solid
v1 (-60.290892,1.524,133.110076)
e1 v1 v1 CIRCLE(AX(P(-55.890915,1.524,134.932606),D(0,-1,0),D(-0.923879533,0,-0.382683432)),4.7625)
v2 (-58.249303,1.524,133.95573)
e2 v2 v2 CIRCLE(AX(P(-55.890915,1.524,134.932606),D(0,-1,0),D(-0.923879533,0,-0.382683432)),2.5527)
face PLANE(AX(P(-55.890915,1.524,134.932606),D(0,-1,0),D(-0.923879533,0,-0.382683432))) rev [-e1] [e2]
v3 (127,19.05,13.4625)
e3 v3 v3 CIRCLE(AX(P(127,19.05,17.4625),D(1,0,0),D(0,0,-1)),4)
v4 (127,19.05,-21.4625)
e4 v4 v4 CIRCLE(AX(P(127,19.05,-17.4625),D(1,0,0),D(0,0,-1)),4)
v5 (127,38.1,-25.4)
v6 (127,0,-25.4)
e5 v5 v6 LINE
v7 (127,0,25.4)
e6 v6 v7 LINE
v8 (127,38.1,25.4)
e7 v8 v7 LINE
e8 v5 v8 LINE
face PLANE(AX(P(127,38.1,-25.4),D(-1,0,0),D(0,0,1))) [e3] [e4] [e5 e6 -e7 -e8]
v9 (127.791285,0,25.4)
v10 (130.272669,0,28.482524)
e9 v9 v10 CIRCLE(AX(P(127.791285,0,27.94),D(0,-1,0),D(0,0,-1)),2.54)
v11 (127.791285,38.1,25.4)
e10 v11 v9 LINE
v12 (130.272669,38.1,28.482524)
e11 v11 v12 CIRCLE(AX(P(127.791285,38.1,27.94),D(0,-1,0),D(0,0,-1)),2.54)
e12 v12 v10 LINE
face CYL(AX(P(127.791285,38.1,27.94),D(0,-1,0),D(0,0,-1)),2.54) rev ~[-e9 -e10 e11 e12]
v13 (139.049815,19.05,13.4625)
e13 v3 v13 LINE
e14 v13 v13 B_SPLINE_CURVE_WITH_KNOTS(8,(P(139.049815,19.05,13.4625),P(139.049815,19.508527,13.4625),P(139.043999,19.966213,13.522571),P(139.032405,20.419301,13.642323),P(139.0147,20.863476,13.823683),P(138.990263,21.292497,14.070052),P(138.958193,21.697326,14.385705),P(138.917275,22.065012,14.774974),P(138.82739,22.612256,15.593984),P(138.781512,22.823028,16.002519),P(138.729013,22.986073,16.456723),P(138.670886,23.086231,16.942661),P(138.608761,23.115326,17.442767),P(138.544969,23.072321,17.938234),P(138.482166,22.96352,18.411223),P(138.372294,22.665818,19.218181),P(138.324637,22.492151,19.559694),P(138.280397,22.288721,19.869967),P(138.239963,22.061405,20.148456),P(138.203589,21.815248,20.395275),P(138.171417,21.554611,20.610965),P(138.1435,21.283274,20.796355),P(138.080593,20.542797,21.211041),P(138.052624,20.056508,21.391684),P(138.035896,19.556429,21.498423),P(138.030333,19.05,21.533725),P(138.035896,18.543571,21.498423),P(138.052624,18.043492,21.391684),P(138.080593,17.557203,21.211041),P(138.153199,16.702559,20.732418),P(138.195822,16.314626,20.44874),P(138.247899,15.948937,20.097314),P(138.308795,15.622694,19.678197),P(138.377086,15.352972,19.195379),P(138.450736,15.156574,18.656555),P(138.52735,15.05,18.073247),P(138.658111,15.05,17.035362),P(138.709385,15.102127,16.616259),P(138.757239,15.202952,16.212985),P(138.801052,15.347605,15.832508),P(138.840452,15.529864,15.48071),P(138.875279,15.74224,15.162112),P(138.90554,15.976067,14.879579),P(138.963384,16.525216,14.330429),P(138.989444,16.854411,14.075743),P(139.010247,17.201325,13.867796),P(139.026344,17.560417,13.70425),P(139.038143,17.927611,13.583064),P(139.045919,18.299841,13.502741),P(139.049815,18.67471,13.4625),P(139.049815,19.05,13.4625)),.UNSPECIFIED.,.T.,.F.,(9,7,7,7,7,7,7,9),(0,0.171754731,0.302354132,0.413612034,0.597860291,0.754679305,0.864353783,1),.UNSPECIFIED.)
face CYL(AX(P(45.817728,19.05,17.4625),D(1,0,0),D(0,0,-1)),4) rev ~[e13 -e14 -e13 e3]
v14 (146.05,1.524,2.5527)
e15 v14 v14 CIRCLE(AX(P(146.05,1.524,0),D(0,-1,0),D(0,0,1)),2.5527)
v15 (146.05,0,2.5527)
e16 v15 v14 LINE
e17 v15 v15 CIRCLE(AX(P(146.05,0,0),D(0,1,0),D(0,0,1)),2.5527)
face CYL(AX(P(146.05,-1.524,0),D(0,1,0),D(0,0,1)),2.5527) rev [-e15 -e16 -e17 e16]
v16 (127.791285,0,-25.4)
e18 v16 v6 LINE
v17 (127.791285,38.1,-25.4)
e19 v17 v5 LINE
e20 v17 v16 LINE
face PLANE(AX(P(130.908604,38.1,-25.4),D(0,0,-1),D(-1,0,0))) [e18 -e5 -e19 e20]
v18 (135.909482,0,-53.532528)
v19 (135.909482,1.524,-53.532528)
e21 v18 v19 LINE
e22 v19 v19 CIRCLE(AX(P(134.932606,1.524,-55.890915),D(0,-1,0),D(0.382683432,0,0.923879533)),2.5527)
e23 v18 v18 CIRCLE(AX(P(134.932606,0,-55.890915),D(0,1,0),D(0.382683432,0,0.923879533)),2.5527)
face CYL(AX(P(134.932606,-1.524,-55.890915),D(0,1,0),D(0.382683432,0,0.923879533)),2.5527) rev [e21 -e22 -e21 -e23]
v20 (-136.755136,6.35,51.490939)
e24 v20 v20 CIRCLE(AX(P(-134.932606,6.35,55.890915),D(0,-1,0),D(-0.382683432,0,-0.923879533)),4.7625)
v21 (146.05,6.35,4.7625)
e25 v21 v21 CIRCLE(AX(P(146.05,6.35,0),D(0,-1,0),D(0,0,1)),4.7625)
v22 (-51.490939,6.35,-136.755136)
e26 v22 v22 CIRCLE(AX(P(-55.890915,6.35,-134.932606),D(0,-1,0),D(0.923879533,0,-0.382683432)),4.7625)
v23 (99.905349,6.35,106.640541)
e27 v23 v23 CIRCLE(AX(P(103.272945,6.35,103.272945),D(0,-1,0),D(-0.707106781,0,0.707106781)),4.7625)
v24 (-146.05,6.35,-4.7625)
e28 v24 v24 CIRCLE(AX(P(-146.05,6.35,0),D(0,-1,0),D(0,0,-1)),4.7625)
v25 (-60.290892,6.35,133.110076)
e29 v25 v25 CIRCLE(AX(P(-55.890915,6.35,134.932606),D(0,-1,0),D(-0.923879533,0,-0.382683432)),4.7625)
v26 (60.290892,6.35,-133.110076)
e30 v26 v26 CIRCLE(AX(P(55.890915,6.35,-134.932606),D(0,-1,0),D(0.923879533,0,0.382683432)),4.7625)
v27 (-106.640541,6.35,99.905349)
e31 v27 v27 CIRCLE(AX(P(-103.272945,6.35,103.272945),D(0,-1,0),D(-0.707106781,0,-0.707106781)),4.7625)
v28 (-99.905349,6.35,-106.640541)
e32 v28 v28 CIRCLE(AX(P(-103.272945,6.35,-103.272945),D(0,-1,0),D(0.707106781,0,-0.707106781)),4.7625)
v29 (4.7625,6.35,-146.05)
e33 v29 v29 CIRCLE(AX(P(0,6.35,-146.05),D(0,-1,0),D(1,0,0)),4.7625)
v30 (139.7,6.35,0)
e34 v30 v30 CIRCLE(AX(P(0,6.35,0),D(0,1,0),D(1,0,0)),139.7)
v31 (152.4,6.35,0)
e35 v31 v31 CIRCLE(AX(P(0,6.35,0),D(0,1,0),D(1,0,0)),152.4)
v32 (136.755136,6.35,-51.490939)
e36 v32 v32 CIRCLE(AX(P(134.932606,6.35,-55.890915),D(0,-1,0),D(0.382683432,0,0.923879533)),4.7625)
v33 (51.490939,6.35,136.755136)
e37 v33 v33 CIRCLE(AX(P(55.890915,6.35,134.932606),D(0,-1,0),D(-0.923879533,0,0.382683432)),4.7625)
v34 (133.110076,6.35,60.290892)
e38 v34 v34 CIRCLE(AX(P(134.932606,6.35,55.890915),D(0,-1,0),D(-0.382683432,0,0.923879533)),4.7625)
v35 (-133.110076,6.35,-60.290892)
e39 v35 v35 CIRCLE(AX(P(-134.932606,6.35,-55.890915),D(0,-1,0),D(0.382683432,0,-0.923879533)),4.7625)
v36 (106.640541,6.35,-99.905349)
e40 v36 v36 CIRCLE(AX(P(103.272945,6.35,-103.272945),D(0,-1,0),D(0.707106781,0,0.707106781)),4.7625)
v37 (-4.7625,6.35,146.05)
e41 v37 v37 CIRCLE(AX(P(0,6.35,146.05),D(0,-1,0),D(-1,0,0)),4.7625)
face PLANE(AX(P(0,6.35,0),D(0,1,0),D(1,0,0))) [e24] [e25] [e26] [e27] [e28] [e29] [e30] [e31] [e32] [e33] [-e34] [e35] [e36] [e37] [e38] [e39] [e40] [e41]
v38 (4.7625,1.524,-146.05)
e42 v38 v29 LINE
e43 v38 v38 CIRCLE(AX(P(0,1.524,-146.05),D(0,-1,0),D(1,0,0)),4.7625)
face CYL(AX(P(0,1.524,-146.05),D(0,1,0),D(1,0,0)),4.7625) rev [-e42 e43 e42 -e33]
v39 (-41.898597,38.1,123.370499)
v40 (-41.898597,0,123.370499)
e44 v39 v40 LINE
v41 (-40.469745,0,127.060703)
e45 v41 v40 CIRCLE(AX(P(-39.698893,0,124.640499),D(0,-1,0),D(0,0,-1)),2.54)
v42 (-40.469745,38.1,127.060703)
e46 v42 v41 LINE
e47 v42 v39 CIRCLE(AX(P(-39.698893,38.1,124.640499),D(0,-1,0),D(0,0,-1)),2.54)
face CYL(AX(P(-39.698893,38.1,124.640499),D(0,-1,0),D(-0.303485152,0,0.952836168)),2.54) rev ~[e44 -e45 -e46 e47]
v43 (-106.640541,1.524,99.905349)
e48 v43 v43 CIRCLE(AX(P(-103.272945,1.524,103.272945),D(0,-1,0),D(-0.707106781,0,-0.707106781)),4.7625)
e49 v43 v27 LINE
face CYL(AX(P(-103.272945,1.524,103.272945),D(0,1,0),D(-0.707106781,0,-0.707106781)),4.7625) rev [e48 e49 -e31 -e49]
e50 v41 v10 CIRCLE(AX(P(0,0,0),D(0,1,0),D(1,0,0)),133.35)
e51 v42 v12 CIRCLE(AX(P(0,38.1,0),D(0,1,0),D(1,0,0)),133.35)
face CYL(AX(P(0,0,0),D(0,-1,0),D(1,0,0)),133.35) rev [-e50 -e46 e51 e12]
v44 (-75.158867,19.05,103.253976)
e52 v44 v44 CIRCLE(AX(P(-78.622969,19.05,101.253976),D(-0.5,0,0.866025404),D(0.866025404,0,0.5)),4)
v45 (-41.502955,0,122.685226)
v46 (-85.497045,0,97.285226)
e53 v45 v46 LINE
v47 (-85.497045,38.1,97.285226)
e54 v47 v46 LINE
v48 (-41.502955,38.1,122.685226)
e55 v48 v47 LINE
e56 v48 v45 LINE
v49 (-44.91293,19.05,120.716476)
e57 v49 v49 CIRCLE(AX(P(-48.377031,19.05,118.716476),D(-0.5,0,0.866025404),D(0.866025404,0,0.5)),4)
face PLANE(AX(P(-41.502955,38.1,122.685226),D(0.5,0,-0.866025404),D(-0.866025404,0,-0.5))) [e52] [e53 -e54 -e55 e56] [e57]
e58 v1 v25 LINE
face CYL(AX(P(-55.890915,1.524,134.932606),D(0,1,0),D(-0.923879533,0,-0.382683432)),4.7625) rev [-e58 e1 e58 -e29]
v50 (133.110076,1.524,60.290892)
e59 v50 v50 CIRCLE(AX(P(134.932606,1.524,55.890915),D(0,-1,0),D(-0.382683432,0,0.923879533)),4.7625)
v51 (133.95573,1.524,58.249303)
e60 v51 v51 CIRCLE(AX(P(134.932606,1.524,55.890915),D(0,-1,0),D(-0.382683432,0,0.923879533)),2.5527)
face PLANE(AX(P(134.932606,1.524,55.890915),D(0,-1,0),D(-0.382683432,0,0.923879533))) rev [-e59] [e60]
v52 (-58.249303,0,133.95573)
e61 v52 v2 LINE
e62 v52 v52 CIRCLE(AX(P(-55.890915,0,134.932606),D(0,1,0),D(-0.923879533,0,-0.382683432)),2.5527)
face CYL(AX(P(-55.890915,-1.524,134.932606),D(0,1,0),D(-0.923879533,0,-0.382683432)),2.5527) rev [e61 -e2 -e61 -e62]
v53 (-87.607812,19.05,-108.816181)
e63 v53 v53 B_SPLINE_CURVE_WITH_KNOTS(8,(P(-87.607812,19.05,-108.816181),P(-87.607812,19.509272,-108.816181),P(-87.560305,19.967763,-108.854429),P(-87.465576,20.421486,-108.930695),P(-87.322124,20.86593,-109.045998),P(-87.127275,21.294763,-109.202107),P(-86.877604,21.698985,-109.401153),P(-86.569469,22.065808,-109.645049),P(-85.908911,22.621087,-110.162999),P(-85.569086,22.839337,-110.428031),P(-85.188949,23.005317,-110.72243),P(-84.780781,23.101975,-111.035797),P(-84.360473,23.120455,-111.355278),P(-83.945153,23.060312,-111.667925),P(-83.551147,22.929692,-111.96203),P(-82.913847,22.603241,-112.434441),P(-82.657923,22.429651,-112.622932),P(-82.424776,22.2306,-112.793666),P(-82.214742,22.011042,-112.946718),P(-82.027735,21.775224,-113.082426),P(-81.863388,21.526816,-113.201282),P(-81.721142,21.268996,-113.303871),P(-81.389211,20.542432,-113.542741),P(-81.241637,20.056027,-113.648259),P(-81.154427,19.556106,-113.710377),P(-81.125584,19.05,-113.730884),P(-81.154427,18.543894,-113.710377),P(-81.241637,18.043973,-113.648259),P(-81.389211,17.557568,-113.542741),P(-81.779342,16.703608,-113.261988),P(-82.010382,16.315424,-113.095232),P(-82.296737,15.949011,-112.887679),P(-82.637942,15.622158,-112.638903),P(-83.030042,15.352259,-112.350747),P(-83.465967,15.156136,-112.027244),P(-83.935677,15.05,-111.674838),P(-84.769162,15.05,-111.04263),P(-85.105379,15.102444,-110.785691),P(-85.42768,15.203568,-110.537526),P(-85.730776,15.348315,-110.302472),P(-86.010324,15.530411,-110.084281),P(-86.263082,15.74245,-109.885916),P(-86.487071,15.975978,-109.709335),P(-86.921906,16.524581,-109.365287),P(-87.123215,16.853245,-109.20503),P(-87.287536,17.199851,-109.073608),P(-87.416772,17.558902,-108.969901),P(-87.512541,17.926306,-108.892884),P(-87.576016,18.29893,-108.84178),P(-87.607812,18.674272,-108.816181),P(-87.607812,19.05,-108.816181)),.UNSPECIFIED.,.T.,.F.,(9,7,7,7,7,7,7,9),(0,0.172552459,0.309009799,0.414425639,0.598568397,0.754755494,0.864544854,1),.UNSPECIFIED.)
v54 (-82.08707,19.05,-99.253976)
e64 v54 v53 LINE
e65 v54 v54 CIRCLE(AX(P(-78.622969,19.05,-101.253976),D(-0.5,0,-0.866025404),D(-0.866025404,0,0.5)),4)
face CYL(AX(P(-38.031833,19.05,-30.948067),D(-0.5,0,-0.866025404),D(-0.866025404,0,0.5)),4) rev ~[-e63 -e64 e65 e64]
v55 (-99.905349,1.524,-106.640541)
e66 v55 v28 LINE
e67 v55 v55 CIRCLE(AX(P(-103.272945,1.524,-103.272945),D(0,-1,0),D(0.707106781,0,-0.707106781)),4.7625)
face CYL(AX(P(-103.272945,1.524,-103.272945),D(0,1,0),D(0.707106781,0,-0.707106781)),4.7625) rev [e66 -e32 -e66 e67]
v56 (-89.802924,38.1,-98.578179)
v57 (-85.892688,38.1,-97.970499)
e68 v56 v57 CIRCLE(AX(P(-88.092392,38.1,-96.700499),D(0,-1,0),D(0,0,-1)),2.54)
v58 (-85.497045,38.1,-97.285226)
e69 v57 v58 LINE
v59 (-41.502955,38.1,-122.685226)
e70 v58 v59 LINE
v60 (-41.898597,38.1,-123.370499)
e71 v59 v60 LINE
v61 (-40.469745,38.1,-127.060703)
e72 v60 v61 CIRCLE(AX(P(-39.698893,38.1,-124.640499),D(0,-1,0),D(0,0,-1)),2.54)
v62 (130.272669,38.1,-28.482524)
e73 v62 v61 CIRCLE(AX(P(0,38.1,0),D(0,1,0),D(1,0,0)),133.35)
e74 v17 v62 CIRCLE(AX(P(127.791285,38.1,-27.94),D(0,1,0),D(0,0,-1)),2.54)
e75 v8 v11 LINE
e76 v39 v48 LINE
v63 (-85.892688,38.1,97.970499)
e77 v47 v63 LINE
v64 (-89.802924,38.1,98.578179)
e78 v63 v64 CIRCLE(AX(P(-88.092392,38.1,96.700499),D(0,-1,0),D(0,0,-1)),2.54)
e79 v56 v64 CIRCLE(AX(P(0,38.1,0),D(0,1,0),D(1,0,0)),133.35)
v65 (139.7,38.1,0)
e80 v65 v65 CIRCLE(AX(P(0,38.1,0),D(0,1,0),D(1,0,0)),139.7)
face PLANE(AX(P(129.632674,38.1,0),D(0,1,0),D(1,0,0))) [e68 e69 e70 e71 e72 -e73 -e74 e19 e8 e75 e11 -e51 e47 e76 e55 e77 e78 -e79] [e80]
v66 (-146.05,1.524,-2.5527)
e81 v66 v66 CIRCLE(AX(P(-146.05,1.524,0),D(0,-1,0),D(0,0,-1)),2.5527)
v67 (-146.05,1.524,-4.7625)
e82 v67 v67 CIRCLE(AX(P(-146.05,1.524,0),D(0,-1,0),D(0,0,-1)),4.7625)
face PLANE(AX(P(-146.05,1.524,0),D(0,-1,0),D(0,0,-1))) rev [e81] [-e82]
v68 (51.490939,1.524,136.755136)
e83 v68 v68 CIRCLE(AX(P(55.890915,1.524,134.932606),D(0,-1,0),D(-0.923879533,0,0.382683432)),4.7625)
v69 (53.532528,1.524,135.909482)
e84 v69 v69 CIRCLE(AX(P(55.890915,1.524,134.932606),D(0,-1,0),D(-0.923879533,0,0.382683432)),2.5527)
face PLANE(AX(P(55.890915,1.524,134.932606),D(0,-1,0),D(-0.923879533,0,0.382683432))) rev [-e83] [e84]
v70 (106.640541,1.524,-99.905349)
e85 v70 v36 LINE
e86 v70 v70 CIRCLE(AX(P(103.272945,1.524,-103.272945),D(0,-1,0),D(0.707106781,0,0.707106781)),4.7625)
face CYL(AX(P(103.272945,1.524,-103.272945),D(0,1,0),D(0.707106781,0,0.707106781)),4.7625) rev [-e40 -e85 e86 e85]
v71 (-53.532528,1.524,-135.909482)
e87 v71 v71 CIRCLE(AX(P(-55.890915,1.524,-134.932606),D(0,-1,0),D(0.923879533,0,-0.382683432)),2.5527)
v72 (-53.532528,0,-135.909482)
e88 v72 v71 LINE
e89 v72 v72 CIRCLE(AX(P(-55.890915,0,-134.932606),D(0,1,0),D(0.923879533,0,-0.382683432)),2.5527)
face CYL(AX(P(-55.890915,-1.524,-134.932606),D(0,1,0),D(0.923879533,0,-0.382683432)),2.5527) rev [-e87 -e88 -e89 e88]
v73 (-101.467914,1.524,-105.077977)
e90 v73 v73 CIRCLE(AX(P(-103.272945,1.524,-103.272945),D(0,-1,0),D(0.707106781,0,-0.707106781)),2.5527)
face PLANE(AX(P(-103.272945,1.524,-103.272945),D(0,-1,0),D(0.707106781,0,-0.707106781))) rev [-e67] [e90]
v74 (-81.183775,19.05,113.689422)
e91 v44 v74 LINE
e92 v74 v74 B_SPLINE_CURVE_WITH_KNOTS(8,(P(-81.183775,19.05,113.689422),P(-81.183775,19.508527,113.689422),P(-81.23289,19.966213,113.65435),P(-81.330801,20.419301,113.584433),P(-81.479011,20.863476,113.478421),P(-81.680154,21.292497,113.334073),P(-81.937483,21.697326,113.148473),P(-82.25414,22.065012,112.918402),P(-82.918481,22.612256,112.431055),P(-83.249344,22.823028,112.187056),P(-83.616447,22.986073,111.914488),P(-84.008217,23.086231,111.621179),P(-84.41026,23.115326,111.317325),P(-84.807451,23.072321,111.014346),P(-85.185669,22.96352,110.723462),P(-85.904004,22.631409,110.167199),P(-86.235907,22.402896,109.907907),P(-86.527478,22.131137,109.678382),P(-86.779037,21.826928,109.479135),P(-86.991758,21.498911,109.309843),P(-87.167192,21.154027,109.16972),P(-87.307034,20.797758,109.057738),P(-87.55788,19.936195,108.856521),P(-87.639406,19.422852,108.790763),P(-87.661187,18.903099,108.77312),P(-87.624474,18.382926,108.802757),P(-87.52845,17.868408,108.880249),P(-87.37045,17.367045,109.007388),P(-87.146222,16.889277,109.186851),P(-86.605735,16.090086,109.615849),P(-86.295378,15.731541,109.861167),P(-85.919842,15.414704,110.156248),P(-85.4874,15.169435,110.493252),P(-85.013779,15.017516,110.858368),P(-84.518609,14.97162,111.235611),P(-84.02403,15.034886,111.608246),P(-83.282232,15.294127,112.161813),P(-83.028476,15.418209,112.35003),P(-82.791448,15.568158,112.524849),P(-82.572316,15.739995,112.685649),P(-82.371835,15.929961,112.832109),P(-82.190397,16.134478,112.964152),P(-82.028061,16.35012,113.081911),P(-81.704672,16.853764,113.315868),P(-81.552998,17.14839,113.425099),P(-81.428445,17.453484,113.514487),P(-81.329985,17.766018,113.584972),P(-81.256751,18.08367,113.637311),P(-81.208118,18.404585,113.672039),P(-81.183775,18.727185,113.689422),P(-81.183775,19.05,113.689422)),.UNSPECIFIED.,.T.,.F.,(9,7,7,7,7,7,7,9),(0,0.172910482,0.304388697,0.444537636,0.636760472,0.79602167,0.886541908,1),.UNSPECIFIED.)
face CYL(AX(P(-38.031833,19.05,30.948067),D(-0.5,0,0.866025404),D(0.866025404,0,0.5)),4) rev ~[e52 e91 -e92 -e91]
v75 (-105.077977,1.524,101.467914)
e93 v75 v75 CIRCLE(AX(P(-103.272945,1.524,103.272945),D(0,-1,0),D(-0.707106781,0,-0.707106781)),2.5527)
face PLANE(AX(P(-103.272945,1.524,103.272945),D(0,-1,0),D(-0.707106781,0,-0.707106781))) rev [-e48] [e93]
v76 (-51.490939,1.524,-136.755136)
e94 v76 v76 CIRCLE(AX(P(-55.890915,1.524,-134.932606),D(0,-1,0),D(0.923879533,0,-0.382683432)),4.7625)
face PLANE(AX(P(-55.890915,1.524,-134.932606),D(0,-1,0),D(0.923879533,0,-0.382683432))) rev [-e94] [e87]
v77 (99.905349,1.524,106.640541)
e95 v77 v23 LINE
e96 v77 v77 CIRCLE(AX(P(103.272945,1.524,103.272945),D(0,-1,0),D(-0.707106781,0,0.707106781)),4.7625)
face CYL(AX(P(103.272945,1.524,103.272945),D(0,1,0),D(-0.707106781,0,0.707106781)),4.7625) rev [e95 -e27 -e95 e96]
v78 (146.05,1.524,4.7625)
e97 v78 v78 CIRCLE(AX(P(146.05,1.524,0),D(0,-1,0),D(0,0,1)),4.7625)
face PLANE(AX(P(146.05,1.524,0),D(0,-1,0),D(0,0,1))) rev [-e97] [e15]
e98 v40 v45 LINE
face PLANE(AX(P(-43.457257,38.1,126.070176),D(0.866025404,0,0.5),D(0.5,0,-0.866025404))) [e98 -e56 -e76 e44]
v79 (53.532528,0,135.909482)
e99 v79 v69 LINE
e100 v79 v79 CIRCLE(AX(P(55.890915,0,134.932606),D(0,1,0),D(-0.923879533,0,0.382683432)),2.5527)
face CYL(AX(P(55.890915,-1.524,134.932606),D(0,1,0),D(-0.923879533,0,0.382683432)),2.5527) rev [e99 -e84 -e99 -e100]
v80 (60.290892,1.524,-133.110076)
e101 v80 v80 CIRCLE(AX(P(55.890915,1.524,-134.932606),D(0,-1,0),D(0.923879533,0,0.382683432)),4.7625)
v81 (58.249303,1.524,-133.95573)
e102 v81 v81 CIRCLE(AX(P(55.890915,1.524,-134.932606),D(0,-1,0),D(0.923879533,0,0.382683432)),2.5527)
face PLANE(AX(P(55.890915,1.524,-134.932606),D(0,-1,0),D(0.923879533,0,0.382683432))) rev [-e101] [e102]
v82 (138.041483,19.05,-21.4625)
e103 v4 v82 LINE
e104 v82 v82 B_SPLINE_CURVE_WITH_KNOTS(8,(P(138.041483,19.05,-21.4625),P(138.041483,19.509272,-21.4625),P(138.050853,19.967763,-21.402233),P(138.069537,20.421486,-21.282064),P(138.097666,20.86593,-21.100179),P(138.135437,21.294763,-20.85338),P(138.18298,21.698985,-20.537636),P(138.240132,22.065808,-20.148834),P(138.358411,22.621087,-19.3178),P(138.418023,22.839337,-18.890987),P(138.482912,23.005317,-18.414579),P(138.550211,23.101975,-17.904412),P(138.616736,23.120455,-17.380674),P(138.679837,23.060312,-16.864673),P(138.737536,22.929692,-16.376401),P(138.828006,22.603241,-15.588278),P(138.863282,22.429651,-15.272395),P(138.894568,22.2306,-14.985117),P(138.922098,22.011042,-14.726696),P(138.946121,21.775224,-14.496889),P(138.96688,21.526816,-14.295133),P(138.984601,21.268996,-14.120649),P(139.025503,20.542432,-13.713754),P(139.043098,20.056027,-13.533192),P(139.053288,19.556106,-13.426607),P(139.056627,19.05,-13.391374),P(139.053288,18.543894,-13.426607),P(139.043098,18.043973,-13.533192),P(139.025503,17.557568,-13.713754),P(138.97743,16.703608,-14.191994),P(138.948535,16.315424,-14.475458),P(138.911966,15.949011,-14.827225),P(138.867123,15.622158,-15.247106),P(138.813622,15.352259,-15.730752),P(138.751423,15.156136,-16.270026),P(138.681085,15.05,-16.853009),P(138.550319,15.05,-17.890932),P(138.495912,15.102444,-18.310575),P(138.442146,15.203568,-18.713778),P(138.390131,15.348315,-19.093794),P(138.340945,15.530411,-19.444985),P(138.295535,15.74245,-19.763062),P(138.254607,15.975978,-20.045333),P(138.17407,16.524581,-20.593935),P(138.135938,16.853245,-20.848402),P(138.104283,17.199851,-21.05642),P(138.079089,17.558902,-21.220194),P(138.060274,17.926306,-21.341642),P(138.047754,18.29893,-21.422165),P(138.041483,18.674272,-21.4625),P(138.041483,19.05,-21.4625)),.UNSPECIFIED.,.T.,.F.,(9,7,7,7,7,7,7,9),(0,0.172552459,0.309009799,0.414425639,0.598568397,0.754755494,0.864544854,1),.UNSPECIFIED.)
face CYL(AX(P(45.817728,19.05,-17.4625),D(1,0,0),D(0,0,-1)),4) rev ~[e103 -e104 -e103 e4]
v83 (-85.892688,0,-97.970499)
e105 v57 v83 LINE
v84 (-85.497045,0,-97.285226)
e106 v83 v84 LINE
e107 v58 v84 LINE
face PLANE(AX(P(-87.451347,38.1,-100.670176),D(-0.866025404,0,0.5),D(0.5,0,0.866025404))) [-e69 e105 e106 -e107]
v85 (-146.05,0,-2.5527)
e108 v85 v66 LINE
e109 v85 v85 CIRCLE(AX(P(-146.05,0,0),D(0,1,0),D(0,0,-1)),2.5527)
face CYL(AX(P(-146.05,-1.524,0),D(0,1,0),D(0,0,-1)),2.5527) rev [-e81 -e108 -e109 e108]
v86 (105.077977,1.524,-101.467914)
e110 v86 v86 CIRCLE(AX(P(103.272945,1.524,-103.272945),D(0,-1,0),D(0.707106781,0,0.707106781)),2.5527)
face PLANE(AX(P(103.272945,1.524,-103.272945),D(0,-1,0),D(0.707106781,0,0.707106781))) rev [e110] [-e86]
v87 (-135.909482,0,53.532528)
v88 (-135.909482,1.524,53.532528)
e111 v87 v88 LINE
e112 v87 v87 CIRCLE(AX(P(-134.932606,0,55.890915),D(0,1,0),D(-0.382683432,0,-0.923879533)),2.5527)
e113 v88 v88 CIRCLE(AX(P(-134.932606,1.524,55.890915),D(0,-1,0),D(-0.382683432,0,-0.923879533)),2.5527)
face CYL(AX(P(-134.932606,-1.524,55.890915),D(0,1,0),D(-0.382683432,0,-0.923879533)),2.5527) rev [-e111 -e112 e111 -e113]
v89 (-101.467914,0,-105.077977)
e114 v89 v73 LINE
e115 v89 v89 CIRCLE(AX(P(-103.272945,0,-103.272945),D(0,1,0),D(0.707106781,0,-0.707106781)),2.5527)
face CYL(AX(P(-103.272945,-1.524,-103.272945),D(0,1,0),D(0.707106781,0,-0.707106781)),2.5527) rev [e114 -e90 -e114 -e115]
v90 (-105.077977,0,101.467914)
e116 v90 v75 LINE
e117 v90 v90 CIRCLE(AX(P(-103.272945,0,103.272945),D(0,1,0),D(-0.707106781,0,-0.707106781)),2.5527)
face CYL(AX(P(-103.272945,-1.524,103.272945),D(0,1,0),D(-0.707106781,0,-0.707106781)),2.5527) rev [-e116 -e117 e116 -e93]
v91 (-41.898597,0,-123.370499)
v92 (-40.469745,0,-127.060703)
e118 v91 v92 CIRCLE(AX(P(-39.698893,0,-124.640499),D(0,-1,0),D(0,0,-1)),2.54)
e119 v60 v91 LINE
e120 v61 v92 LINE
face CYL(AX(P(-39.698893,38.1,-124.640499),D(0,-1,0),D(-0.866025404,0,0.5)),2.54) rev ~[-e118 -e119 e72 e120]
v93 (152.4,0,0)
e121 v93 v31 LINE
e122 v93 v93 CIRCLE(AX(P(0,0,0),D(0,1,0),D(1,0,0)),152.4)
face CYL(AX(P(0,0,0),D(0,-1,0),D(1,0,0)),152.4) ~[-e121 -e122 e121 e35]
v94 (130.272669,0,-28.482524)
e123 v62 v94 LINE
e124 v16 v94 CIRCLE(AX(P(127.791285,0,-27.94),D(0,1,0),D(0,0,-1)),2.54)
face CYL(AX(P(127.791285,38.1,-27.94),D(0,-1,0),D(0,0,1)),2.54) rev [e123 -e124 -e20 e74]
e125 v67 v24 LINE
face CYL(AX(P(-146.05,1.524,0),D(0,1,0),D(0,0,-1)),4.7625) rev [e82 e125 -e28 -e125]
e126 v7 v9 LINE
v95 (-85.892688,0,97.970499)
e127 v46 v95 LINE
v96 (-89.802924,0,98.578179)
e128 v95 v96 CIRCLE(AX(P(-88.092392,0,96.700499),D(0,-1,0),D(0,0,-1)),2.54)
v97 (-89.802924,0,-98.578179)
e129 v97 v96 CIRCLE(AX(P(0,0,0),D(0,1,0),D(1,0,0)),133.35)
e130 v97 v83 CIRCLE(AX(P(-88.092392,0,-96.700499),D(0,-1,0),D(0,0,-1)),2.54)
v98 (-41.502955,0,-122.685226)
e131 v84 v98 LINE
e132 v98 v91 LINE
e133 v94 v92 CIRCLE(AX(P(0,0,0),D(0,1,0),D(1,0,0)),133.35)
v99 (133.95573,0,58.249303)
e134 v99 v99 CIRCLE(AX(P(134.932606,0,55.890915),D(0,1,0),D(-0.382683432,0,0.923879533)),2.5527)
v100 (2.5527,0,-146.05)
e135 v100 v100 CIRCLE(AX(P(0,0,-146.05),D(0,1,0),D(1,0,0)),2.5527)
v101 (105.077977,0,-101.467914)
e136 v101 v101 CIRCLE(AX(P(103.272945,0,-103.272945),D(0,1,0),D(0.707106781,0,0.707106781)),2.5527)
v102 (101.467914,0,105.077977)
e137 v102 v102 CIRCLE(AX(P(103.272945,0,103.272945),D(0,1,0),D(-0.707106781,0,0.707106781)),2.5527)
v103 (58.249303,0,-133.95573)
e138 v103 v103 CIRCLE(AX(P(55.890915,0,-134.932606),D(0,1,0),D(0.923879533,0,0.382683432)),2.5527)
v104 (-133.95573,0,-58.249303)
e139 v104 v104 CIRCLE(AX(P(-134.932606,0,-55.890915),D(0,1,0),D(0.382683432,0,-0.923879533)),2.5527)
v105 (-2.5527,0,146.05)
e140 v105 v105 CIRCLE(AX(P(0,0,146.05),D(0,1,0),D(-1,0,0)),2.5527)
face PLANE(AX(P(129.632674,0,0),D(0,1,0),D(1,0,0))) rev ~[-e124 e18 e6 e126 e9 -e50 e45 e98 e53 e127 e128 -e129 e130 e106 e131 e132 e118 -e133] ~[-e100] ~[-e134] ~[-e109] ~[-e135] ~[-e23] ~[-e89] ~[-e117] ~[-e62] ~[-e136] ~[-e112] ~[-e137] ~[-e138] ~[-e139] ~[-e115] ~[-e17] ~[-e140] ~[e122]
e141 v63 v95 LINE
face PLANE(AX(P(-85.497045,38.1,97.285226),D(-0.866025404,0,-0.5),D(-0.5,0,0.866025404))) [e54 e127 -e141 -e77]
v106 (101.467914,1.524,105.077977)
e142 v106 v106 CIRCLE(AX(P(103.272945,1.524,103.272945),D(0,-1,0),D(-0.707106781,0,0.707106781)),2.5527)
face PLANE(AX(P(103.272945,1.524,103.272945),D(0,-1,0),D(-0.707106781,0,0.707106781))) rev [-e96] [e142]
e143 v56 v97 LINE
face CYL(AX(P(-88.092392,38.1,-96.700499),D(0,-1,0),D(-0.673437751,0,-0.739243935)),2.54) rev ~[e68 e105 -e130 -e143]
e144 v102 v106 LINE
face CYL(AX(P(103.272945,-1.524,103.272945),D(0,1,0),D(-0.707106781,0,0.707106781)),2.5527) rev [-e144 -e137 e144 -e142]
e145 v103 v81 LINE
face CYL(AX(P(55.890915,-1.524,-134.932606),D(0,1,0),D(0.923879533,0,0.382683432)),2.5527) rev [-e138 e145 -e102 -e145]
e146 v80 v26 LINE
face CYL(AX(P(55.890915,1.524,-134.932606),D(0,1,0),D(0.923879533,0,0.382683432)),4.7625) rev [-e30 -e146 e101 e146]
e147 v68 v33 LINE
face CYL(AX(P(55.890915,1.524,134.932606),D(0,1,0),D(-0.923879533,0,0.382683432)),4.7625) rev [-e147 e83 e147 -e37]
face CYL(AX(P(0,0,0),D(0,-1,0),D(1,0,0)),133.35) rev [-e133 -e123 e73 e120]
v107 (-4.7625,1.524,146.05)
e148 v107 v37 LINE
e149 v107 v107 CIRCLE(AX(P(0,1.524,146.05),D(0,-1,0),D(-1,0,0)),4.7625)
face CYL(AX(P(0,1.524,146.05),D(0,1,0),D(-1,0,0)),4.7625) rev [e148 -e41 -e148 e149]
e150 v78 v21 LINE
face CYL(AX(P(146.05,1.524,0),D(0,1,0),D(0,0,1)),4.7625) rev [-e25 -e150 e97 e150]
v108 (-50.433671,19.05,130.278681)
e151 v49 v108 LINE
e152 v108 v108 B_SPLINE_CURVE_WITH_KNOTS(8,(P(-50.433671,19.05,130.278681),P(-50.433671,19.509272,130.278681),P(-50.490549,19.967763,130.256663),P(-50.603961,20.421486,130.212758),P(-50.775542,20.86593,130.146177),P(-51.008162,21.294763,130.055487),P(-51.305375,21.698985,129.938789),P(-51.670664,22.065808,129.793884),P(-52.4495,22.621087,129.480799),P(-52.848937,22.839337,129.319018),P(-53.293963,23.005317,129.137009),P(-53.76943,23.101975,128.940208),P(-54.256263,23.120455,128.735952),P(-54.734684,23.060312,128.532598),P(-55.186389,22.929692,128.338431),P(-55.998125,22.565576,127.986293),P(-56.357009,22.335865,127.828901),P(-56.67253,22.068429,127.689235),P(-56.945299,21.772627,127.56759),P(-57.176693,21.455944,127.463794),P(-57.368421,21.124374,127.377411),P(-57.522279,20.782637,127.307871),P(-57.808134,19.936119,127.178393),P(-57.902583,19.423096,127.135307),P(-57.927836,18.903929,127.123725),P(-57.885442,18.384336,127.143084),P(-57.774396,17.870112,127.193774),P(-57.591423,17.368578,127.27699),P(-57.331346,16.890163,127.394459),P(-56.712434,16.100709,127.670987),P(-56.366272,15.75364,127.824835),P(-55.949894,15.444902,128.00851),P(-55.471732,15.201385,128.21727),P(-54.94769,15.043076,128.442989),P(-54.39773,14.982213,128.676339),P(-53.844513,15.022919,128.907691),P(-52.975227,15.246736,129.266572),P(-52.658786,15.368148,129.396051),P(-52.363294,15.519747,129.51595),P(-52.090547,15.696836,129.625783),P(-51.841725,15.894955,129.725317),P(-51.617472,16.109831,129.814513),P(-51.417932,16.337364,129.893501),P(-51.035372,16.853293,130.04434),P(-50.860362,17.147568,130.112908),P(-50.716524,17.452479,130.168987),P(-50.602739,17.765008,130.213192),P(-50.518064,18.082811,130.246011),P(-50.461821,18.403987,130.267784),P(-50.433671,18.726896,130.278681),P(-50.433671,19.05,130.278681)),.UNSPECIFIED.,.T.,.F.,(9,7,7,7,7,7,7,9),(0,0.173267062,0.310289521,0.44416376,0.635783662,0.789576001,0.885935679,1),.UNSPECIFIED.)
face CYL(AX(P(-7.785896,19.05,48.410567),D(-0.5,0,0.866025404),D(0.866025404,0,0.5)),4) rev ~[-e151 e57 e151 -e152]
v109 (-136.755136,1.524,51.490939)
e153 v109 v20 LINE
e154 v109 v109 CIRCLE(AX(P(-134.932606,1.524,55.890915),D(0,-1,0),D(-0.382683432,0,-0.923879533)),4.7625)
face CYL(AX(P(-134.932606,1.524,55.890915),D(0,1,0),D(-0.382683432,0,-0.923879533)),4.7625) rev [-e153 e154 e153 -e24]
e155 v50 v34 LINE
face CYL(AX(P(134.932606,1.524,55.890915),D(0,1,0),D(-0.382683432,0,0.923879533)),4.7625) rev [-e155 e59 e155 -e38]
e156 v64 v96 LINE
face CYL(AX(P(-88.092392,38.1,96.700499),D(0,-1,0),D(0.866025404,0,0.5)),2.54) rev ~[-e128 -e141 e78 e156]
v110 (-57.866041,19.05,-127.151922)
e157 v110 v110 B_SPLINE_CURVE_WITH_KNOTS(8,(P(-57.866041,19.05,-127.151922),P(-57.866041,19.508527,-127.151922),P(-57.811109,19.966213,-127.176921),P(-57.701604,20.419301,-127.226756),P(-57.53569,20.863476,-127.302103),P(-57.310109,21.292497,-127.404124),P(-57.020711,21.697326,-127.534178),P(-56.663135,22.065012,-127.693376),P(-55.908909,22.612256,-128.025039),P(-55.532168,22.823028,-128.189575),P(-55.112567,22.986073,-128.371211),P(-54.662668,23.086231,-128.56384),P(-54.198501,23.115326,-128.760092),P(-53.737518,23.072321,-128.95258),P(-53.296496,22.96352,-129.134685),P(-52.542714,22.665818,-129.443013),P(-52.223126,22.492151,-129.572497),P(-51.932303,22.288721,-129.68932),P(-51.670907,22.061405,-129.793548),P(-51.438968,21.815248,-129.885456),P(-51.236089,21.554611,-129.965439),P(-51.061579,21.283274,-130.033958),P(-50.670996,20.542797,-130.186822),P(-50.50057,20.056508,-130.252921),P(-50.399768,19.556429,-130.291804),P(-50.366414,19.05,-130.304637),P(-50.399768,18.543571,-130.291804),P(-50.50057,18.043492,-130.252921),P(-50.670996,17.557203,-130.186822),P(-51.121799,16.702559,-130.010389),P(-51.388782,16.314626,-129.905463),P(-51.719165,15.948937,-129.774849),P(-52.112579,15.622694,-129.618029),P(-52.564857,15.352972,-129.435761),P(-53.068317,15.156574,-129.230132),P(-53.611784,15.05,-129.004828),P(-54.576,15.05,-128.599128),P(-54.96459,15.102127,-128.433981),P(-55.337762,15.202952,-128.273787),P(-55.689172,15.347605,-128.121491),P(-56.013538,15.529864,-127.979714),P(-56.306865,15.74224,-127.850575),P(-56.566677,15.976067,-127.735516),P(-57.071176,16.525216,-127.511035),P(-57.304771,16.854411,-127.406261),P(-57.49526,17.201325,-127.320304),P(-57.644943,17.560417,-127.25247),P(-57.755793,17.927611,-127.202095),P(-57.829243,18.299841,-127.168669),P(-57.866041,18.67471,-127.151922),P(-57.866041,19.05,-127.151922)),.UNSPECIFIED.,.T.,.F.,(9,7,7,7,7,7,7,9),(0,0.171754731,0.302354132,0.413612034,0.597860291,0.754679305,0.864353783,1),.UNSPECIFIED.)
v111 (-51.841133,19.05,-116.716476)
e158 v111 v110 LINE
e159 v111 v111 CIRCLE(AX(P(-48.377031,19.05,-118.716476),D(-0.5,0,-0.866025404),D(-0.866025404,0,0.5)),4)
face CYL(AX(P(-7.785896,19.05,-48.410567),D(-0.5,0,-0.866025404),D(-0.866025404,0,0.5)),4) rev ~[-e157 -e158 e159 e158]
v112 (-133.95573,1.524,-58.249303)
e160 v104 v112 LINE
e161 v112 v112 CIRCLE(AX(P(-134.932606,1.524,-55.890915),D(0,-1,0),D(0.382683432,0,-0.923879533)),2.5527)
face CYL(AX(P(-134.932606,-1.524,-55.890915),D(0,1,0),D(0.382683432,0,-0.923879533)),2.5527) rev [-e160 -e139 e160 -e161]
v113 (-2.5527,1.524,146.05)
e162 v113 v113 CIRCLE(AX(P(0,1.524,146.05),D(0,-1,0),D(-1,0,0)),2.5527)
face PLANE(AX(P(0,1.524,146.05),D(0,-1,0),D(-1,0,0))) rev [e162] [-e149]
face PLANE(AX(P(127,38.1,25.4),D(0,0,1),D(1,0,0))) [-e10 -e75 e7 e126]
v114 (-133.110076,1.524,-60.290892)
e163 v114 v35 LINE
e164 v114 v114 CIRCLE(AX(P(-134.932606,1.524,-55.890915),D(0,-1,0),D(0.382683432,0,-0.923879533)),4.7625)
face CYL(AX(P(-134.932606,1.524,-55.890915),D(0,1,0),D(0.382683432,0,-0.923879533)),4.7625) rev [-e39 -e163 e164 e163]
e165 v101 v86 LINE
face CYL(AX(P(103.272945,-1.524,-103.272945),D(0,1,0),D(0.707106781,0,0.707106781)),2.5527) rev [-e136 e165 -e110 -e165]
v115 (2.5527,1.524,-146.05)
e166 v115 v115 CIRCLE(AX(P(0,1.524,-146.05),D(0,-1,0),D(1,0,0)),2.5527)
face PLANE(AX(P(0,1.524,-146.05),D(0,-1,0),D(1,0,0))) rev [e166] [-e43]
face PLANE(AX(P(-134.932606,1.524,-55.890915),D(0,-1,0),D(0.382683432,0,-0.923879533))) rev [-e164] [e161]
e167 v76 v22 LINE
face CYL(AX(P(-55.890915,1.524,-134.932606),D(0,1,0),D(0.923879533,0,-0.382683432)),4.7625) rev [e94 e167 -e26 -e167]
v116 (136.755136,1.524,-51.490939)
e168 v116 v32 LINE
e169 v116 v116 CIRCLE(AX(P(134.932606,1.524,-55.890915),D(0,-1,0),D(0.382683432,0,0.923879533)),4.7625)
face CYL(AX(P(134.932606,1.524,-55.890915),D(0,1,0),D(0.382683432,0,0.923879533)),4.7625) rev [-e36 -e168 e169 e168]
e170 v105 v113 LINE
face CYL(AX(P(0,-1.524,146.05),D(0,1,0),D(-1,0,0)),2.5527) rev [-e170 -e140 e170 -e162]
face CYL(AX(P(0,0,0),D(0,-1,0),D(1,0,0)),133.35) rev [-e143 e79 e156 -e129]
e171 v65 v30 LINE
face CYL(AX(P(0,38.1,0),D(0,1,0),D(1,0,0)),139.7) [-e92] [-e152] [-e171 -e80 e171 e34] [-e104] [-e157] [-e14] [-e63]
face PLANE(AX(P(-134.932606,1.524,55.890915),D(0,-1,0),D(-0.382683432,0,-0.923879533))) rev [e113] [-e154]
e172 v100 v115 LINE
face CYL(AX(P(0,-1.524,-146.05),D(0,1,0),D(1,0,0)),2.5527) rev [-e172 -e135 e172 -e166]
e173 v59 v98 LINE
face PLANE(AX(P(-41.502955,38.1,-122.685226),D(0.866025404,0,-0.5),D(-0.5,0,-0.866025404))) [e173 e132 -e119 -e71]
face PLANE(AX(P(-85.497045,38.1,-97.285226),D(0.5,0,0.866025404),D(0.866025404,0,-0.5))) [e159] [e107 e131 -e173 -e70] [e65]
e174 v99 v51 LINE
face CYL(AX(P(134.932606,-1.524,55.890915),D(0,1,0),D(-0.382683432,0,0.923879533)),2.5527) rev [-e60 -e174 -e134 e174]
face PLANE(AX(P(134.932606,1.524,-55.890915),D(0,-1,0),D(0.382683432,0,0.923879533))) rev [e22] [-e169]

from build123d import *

# Parameters (mm, degrees)
SKETCH1_R                = 152.4
SKETCH1_R_2              = 133.35
BOSS_EXTRUDE1_DEPTH      = 38.1
SKETCH2_R                = 152.4
SKETCH2_R_2              = 139.7
CUT_EXTRUDE1_DEPTH       = 31.75
BOSS_EXTRUDE2_DEPTH      = 38.1
FILLET1_R                = 2.54
HOLE1_D                  = 8
HOLE1_DEPTH              = 81.182271537
CIRPATTERN1_COUNT        = 3
FILLET1_OF_CIRPATTERN1_R = 2.54
CIRPATTERN2_COUNT        = 16


with BuildPart() as part:
    # Sketch1 → Boss-Extrude1 (new body)
    with BuildSketch(Plane(origin=(0, 0, 0), x_dir=(1, 0, 0), z_dir=(0, 1, 0))):
        Circle(SKETCH1_R)
        Circle(SKETCH1_R_2, mode=Mode.SUBTRACT)
    extrude(amount=BOSS_EXTRUDE1_DEPTH)

    # Sketch2 → Cut-Extrude1 (cut)
    with BuildSketch(Plane(origin=(0, 38.1, 0), x_dir=(1, 0, 0), z_dir=(0, 1, 0))):
        Circle(SKETCH2_R)
        Circle(SKETCH2_R_2, mode=Mode.SUBTRACT)
    extrude(amount=-CUT_EXTRUDE1_DEPTH, mode=Mode.SUBTRACT)

    # Sketch3 → Boss-Extrude2 (add, through all)
    with BuildSketch(Plane(origin=(0, 38.1, 0), x_dir=(1, 0, 0), z_dir=(0, 1, 0))):
        with BuildLine():
            Line((127, 25.4), (127, -25.4))
            Line((127, -25.4), (130.908603613, -25.4))
            ThreePointArc((130.908603613, -25.4), (133.35, 0), (130.908603613, 25.4))
            Line((130.908603613, 25.4), (127, 25.4))
        make_face()
    boss_extrude2 = extrude(amount=-BOSS_EXTRUDE2_DEPTH)

    # Fillet1
    fillet1_edges = [part.edges().sort_by_distance(p)[0] for p in [
        (130.908603613, 19.05, -25.4),
        (130.908603613, 19.05, 25.4),
    ]]
    fillet(fillet1_edges, radius=FILLET1_R)

    # Hole1
    with Locations(Plane(origin=(127, 0, -417.943859866), x_dir=(0, 0, 1), z_dir=(-1, 0, 0))):
        with Locations((400.481359866, 19.05), (435.406359866, 19.05)):
            hole1 = Hole(HOLE1_D / 2, depth=HOLE1_DEPTH)

    # CirPattern1: Boss-Extrude2, Hole1 ×3 about axis
    cirpattern1_axis = Axis((0, 0, 0), (0, 1, 0))
    for i in range(1, CIRPATTERN1_COUNT):
        add(boss_extrude2.rotate(cirpattern1_axis, i * 360 / CIRPATTERN1_COUNT))
        add(hole1.rotate(cirpattern1_axis, i * 360 / CIRPATTERN1_COUNT), mode=Mode.SUBTRACT)

    # Fillet1 of CirPattern1
    fillet1_of_cirpattern1_edges = [part.edges().sort_by_distance(p)[0] for p in [
        (-87.451347063, 19.05, -100.670176303),
        (-43.457256551, 19.05, -126.070176303),
        (-43.457256551, 19.05, 126.070176303),
        (-87.451347063, 19.05, 100.670176303),
    ]]
    fillet(fillet1_of_cirpattern1_edges, radius=FILLET1_OF_CIRPATTERN1_R)

    # Sketch8 → CBORE for #10 Socket Head Cap Screw1 (revolve, cut)
    with BuildSketch(Plane(origin=(146.05, 6.35, 0), x_dir=(0, 0, 1), z_dir=(1, 0, 0))):
        Polygon((0, 0), (0, 9.407816902), (2.5527, 7.874), (2.5527, 4.826), (4.7625, 4.826), (4.7625, 0), align=None)
    cbore_for_10_socket_head_cap_screw1 = revolve(axis=Axis((146.05, 12.7, 0), (0, -1, 0)), mode=Mode.SUBTRACT)

    # CirPattern2: CBORE for #10 Socket Head Cap Screw1 ×16 about axis
    cirpattern2_axis = Axis((0, 0, 0), (0, 1, 0))
    for i in range(1, CIRPATTERN2_COUNT):
        add(cbore_for_10_socket_head_cap_screw1.rotate(cirpattern2_axis, i * 360 / CIRPATTERN2_COUNT), mode=Mode.SUBTRACT)


solid = part.part
